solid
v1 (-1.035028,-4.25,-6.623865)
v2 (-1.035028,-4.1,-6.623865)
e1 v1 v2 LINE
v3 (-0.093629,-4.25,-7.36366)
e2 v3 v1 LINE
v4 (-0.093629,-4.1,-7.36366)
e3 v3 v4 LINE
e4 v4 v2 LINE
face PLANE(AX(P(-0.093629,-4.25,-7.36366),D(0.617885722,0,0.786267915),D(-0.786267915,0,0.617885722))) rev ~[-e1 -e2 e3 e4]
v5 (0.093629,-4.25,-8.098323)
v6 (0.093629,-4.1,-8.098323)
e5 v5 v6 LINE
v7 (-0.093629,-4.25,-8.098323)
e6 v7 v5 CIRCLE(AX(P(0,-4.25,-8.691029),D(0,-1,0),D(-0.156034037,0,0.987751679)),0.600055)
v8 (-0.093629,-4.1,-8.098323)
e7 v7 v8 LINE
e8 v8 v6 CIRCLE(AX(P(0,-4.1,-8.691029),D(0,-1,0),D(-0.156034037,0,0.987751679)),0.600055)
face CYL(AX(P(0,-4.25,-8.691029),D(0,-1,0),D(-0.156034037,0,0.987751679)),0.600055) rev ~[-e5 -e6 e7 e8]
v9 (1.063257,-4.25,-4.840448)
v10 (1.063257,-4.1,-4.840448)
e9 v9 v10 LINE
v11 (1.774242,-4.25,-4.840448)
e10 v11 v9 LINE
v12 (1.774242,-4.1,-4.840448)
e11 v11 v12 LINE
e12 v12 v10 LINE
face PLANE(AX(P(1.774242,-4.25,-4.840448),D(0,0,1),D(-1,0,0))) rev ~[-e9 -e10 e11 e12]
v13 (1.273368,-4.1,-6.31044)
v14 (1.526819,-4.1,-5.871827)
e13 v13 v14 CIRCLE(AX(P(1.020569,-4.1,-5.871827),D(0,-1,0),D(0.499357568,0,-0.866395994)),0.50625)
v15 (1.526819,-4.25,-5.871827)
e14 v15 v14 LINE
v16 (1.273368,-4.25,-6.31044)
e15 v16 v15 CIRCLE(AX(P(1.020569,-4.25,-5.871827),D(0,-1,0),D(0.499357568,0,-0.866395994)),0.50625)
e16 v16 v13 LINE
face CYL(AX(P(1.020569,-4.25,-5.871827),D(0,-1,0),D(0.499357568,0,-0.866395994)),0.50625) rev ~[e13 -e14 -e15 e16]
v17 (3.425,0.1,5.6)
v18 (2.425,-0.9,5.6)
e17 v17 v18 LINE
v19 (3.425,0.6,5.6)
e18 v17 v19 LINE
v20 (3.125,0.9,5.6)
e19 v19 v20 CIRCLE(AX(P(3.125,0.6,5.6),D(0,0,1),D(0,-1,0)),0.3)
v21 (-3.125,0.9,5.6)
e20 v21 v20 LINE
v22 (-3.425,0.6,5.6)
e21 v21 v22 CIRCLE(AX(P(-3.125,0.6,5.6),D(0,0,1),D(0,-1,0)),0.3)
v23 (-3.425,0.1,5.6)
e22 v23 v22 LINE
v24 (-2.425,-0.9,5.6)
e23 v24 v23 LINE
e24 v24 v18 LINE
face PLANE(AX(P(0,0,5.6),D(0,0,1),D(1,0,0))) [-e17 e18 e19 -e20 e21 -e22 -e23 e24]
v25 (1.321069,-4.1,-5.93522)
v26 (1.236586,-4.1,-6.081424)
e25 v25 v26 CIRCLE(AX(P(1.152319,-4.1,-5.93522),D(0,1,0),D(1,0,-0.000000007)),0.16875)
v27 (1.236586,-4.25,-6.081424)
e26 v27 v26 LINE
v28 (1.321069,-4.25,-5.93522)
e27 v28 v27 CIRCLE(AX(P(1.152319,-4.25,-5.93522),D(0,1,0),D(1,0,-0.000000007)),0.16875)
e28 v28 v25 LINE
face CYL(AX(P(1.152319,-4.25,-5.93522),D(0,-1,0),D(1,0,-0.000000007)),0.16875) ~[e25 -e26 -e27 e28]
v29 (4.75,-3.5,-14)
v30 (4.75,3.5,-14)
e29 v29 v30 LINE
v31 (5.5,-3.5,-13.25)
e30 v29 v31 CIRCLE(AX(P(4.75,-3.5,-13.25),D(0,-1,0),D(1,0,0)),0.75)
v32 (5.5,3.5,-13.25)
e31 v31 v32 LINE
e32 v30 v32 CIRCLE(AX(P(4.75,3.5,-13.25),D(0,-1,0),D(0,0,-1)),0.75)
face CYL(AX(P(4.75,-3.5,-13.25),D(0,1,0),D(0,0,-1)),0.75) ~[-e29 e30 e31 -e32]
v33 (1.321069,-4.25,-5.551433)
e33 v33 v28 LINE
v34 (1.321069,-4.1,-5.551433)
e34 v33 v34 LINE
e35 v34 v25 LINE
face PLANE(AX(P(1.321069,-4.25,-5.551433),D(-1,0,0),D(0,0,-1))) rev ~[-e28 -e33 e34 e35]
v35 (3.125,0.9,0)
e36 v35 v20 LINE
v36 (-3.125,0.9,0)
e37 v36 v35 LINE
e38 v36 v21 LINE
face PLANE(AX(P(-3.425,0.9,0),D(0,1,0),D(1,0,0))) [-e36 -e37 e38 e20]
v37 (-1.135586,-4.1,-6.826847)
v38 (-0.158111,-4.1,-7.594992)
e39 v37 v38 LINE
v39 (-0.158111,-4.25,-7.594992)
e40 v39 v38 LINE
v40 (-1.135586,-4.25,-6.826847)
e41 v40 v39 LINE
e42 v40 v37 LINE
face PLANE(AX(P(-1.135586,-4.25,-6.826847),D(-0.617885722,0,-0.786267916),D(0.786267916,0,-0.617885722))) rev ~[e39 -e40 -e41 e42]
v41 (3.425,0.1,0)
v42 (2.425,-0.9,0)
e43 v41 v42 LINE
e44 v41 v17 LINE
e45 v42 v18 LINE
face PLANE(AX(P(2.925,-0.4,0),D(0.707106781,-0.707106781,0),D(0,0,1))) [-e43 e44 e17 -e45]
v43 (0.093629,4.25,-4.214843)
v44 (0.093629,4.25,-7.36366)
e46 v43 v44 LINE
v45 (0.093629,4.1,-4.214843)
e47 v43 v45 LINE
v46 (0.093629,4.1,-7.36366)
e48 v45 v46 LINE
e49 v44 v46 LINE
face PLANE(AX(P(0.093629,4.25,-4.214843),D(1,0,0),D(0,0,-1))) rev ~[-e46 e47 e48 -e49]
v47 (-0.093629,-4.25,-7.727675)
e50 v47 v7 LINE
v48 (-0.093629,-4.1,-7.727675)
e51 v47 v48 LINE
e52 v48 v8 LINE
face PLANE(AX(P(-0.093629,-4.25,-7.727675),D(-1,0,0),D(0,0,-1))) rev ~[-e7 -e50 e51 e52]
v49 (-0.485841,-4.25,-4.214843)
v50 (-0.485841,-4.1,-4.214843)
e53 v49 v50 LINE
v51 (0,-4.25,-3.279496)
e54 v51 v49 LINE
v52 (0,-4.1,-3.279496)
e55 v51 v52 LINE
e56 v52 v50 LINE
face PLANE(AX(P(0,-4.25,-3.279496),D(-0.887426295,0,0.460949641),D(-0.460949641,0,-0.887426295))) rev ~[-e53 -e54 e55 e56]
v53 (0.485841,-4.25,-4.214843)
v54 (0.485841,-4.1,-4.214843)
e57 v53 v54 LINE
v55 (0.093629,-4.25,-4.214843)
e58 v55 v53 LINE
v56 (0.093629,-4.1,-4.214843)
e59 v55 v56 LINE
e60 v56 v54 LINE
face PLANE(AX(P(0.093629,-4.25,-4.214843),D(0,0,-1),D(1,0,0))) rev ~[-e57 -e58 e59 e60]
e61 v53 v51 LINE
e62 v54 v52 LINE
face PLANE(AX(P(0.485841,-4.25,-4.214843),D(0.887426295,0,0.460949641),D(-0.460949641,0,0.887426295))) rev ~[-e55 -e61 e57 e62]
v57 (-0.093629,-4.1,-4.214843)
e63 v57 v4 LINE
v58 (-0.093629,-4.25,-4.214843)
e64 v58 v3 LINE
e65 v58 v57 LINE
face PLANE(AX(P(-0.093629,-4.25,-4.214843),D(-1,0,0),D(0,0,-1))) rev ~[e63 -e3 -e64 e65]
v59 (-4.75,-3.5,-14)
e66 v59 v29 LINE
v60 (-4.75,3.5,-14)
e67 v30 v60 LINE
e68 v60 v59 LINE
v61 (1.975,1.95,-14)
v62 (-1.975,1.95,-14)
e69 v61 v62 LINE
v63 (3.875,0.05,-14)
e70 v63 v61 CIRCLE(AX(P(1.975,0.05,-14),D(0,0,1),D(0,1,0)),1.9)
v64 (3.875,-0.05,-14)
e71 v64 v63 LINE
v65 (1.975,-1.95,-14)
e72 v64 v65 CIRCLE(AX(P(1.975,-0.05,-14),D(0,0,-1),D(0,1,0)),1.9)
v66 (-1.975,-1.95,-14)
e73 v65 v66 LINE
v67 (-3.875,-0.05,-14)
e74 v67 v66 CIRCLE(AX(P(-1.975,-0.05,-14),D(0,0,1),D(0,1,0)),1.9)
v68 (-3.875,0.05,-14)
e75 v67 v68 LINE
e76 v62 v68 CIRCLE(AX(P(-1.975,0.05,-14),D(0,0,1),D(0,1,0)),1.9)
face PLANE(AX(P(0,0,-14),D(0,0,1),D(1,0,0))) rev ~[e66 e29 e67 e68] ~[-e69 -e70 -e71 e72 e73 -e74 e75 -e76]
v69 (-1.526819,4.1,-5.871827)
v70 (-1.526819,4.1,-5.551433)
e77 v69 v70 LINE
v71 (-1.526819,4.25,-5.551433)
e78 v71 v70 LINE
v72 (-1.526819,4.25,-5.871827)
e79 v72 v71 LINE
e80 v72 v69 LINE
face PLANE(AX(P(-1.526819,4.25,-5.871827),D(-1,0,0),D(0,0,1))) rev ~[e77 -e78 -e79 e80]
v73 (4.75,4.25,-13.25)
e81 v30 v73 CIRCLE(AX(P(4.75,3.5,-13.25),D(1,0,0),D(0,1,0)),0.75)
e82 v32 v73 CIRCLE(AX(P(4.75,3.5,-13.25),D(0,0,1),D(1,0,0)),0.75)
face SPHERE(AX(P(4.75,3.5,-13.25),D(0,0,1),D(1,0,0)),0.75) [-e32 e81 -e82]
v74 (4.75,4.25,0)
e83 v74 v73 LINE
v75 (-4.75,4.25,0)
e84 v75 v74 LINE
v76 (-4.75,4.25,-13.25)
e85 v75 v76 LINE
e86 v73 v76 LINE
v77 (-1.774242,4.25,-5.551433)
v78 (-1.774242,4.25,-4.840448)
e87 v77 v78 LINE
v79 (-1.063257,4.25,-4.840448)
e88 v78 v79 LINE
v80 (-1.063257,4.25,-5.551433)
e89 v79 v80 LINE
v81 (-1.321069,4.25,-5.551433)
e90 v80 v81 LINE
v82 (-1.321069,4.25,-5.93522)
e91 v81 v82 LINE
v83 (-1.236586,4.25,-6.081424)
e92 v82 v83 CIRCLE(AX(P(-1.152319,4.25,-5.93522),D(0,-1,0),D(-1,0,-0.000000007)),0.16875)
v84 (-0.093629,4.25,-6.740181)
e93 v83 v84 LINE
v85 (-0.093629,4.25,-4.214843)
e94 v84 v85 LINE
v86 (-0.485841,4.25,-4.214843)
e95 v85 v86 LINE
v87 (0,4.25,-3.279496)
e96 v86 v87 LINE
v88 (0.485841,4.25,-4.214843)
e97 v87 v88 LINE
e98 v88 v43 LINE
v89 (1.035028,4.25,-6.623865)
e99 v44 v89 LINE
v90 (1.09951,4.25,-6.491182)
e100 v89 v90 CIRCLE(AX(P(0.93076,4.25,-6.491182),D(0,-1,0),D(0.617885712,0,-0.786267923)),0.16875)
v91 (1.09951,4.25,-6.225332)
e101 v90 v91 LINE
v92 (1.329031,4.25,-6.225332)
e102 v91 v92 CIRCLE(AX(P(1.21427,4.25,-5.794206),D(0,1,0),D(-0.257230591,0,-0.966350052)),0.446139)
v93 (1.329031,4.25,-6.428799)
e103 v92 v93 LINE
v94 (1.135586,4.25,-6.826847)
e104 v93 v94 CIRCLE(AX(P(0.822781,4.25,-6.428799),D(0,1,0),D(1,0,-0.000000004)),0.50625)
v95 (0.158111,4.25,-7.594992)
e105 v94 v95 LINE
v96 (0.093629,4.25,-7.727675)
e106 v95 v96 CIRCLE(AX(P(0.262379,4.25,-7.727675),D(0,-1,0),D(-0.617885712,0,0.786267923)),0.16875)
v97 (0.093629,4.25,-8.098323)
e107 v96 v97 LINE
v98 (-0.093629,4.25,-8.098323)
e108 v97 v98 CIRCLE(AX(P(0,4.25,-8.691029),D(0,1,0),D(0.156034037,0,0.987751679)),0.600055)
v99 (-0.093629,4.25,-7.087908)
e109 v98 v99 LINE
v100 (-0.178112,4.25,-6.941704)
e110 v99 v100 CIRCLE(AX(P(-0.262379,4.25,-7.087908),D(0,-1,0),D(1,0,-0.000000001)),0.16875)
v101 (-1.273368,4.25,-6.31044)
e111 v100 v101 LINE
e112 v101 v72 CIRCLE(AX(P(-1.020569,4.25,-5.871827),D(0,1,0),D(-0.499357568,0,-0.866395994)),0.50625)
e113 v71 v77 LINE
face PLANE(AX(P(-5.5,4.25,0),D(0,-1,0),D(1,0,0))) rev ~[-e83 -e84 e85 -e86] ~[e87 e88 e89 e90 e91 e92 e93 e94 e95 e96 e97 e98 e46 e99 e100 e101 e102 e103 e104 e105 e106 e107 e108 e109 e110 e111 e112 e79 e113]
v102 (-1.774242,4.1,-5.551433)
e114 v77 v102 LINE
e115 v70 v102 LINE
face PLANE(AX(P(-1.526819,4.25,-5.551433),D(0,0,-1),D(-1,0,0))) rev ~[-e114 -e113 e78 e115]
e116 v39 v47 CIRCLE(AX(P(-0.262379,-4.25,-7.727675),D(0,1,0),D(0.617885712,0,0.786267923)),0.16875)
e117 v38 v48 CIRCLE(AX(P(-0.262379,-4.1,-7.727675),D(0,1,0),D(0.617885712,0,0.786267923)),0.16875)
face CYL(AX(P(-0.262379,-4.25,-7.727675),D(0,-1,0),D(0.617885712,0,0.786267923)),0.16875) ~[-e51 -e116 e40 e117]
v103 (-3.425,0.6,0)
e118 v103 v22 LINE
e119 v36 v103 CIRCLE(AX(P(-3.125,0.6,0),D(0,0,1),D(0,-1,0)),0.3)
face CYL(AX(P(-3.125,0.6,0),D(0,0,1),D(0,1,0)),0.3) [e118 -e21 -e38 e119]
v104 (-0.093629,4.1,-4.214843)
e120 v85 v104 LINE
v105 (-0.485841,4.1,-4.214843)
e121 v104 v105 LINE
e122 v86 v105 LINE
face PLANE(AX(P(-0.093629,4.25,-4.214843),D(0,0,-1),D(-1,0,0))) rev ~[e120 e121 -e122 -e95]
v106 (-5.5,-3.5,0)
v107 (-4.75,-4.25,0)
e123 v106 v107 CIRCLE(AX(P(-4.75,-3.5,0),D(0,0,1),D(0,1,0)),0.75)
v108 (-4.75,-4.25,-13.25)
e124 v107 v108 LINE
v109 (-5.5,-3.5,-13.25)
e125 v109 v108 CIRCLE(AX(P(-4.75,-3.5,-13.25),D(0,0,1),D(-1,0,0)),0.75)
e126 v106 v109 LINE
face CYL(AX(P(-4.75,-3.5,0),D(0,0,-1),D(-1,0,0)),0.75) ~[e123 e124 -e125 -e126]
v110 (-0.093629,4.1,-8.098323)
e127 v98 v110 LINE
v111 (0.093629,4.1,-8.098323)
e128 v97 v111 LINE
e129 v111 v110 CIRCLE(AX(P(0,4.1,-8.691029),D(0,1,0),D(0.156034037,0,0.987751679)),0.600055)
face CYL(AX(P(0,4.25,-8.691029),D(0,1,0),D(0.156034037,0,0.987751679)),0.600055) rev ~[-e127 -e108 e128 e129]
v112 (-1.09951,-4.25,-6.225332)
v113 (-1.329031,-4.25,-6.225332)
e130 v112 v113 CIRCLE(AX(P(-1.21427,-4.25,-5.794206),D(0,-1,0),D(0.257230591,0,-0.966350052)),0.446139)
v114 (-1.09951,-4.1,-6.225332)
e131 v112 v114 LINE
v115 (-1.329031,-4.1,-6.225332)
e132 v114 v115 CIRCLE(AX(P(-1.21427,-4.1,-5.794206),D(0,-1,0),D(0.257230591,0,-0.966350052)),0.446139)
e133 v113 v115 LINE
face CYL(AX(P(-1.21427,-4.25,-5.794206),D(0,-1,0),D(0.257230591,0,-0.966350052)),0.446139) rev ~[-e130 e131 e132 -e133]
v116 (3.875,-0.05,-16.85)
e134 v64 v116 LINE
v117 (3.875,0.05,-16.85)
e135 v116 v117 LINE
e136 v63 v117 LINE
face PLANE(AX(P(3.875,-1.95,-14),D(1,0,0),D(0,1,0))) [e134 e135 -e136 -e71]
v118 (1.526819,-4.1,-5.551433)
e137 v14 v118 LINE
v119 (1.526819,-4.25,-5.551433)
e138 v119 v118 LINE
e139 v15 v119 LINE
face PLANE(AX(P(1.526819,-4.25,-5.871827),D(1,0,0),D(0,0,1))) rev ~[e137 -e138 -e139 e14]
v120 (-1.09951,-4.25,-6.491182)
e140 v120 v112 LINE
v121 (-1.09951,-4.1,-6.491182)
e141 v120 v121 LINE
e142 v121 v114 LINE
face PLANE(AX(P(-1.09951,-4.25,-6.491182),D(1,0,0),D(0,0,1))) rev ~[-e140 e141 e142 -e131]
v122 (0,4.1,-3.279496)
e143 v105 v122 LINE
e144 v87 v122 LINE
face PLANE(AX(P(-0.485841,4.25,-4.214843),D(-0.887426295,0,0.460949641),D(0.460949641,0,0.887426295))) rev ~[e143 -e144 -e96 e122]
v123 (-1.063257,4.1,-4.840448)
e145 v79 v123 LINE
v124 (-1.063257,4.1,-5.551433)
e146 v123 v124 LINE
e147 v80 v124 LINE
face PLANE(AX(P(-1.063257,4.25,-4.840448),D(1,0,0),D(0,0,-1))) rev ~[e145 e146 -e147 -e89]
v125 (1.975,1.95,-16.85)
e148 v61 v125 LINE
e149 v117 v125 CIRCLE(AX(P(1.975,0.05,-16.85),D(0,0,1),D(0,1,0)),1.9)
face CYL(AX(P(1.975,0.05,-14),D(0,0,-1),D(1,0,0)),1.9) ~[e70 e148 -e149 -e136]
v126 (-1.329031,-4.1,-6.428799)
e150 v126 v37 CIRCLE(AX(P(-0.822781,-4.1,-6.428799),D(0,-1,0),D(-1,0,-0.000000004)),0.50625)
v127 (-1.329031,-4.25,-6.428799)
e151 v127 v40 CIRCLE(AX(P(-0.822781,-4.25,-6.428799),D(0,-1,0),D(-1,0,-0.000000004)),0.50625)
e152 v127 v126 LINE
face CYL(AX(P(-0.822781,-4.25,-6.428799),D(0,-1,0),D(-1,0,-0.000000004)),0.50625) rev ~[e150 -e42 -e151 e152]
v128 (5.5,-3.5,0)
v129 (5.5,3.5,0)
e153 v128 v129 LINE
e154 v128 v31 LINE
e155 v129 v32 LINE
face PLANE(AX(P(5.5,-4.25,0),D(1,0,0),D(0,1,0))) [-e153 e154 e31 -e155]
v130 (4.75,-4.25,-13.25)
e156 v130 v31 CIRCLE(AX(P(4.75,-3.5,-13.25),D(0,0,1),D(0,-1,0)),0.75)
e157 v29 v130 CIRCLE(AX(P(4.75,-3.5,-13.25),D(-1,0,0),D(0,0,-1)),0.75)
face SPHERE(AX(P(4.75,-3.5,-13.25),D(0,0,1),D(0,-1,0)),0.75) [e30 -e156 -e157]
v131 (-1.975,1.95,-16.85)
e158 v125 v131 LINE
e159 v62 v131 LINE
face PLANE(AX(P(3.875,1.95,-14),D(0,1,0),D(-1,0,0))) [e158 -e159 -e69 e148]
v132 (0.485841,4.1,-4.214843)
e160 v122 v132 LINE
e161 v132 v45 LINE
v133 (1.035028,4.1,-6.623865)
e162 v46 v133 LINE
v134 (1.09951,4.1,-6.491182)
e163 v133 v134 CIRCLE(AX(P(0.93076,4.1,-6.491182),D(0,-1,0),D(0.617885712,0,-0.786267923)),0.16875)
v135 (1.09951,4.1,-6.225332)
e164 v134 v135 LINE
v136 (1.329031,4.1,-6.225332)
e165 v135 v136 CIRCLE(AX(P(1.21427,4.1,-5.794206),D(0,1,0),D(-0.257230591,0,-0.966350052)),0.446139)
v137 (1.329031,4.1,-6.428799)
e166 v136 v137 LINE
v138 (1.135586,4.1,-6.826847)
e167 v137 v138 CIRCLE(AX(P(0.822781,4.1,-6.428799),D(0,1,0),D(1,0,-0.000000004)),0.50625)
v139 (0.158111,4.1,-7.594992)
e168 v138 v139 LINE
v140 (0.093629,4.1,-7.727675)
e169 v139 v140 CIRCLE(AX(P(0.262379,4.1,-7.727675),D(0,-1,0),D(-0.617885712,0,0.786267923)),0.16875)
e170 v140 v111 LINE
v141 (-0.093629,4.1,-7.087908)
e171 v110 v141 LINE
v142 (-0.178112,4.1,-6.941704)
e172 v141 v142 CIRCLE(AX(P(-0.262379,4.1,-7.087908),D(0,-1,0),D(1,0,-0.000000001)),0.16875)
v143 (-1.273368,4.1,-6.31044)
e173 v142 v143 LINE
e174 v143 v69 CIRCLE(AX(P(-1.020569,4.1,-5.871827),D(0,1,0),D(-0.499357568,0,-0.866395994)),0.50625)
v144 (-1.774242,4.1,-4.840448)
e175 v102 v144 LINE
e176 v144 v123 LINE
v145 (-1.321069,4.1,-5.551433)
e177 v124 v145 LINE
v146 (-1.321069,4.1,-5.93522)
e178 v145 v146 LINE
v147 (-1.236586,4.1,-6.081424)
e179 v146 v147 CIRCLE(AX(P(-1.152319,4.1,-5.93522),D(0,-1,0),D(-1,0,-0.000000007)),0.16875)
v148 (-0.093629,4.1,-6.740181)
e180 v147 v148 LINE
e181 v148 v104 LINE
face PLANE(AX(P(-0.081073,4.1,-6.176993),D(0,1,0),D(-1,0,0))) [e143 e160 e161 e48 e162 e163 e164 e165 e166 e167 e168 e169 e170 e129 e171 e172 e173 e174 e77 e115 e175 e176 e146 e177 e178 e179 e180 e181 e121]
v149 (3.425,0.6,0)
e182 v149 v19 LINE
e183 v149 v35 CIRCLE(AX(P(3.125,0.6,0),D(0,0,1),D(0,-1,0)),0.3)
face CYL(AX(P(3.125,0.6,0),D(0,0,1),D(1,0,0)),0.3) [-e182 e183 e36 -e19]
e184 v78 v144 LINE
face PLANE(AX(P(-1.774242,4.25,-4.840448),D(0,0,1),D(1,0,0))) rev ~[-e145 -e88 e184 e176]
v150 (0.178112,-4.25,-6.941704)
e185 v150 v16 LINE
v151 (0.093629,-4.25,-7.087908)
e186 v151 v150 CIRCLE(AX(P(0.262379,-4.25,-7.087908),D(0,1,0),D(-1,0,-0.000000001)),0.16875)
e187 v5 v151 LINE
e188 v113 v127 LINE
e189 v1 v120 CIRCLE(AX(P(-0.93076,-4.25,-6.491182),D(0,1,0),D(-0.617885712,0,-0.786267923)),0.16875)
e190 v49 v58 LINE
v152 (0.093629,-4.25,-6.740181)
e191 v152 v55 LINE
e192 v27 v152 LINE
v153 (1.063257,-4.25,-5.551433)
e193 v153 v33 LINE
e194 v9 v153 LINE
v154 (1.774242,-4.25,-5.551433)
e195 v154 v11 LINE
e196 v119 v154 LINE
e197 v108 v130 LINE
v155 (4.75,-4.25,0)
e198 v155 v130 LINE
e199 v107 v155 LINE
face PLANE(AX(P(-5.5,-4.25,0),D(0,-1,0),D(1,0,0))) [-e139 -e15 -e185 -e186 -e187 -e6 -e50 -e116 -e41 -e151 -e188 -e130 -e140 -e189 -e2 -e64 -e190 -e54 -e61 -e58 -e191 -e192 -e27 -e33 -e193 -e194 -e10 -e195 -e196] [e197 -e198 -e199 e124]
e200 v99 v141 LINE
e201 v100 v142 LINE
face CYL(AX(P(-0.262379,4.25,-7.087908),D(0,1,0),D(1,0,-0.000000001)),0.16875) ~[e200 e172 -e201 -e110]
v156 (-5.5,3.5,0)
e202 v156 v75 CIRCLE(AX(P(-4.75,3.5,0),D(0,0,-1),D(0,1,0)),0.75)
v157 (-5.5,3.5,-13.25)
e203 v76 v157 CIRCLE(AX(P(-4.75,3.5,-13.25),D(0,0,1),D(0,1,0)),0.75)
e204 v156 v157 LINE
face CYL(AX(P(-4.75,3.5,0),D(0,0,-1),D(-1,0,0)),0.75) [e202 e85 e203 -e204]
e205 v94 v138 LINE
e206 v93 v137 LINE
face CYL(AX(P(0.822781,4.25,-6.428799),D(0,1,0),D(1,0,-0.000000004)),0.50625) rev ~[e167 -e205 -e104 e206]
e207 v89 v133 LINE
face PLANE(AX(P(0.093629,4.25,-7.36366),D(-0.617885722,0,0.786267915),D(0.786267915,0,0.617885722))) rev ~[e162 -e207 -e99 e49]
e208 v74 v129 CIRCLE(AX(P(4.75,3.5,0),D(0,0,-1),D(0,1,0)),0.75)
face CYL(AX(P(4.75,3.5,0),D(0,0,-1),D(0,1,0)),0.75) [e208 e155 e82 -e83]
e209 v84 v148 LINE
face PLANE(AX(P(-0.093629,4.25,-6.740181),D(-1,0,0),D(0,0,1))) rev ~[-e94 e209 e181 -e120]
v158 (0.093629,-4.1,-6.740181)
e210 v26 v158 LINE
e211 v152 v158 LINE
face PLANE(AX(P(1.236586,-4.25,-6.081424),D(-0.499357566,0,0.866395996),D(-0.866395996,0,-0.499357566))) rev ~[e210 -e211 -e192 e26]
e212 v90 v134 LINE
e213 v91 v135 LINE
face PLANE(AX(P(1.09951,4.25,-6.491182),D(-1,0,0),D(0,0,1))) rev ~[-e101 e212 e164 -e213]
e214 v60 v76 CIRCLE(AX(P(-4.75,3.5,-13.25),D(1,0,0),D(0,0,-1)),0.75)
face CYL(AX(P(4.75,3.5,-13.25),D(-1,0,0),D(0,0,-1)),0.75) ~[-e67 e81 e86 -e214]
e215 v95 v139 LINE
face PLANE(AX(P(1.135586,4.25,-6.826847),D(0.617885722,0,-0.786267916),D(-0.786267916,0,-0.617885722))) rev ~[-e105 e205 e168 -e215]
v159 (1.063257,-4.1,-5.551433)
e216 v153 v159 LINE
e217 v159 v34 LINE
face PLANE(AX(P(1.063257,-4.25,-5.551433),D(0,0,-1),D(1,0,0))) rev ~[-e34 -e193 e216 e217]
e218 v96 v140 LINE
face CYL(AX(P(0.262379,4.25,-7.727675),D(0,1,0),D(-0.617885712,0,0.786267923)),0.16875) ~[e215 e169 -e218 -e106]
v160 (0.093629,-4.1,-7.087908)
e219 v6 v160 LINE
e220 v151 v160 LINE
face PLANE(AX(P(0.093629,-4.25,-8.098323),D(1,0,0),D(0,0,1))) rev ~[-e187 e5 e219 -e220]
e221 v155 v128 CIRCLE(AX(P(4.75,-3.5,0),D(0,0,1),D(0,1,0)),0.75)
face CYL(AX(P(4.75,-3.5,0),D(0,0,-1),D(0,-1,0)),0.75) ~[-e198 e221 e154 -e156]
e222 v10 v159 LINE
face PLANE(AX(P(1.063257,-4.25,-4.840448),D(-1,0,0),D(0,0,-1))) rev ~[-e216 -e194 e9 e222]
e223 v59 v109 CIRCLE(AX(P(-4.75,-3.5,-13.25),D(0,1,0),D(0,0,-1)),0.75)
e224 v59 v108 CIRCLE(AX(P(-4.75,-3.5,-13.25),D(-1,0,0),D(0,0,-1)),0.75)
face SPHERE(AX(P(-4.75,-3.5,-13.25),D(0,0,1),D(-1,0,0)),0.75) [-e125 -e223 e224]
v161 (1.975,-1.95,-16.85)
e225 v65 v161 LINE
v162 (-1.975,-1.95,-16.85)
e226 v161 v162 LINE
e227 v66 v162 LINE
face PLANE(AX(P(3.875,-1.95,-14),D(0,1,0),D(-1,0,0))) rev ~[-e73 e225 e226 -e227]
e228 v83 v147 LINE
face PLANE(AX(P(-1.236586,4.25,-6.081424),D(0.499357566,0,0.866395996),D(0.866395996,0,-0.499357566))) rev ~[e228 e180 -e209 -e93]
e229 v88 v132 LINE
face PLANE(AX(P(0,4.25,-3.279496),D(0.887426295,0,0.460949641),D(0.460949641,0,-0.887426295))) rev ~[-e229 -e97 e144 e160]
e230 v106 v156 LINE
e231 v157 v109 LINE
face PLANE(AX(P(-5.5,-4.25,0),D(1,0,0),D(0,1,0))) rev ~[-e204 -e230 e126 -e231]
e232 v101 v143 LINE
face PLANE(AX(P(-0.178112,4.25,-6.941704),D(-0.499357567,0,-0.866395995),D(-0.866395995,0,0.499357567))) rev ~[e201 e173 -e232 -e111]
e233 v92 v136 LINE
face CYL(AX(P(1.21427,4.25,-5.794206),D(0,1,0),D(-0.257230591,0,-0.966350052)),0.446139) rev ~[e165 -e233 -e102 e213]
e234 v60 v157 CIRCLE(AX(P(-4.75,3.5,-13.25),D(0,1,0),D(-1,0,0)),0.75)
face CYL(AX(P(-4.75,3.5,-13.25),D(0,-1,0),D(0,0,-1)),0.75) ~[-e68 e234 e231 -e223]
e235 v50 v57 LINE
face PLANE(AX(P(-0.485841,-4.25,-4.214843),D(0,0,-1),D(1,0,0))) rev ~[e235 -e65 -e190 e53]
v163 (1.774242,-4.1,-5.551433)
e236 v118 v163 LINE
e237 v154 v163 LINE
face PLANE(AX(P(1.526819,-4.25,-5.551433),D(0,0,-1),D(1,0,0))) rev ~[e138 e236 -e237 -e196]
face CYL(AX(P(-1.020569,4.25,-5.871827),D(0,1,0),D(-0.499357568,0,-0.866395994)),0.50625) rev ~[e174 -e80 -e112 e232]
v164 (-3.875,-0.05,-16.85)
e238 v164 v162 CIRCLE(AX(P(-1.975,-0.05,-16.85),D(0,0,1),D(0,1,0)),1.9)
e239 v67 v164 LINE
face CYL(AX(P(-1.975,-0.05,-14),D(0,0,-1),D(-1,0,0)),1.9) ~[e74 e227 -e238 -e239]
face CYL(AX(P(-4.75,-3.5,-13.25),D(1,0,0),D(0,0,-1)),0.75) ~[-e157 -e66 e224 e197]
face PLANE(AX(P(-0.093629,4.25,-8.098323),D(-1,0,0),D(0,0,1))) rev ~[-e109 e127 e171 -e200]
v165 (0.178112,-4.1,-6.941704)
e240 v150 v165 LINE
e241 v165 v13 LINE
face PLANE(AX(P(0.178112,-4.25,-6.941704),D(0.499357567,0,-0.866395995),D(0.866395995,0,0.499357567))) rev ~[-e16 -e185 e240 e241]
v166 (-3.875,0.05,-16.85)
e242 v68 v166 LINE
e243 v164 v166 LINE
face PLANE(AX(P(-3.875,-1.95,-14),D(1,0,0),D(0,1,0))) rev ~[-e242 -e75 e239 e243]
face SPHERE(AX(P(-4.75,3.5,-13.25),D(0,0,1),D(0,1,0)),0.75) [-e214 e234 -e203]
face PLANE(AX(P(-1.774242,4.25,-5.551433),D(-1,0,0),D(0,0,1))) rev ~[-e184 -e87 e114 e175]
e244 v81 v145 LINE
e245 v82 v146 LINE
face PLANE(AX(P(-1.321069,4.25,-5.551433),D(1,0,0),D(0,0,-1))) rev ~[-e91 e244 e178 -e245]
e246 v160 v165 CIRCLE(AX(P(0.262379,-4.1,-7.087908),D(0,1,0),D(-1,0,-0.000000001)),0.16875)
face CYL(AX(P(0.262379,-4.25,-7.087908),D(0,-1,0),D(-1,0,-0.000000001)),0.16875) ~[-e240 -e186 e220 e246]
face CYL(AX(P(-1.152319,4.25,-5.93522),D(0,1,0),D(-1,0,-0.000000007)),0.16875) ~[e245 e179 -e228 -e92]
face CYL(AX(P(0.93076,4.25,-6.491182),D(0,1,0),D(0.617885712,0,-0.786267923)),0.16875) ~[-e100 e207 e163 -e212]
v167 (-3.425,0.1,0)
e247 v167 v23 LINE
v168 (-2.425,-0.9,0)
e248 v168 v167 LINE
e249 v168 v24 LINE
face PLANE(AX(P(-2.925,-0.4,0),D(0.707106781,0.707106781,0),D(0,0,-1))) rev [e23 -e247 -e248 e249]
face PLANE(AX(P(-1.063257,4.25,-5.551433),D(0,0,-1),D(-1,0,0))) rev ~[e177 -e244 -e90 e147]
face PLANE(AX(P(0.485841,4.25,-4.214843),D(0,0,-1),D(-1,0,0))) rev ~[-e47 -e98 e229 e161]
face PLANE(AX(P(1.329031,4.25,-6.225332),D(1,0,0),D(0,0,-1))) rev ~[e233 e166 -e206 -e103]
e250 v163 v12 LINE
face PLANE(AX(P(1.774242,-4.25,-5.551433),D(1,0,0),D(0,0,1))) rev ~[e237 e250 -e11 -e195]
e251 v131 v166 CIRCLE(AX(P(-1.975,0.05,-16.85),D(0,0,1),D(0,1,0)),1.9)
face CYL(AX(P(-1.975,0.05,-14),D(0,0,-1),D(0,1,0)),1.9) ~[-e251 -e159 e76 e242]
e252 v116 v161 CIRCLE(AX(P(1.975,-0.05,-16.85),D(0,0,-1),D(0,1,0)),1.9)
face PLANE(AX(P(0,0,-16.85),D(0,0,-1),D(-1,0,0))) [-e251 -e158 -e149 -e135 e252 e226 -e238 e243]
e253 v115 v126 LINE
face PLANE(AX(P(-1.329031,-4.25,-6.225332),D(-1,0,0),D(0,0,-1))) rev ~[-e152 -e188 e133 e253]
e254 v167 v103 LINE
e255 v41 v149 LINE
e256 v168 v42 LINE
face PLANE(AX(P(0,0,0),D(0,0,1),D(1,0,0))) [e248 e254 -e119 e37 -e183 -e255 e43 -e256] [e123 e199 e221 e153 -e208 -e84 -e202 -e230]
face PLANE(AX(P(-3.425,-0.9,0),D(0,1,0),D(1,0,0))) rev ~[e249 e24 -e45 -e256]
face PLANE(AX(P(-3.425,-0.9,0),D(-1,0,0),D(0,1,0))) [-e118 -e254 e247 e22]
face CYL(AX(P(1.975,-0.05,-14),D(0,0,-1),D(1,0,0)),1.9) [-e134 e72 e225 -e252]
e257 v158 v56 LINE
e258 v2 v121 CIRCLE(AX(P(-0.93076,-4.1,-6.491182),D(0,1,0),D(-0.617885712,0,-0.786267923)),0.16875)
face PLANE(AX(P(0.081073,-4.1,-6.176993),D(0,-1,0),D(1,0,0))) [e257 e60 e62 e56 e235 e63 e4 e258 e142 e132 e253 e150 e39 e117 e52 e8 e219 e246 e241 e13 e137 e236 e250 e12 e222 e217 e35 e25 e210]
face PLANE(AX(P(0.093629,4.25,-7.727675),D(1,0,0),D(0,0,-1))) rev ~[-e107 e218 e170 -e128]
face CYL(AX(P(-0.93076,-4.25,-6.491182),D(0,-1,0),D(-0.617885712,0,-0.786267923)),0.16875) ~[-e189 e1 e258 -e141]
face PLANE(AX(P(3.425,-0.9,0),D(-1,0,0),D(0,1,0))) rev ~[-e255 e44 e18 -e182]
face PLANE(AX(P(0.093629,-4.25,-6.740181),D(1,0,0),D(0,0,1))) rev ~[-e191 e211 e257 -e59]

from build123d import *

# Parameters (mm, degrees)
SKETCH1_W           = 11
SKETCH1_H           = 8.5
BOSS_EXTRUDE1_DEPTH = 14
SKETCH2_W           = 7.75
SKETCH2_H           = 3.9
BOSS_EXTRUDE2_DEPTH = 2.85
SKETCH4_W           = 6.85
SKETCH4_H           = 1.8
BOSS_EXTRUDE4_DEPTH = 5.6
FILLET6_R           = 0.3
CHAMFER1_SIZE       = 1
CUT_EXTRUDE1_DEPTH  = 0.15
CIRPATTERN1_COUNT   = 2
FILLET1_R           = 1.9
FILLET3_R           = 0.75
FILLET4_R           = 0.75


with BuildPart() as part:
    # Sketch1 → Boss-Extrude1 (new body)
    with BuildSketch(Plane.XY):
        Rectangle(SKETCH1_W, SKETCH1_H)
    extrude(amount=-BOSS_EXTRUDE1_DEPTH)

    # Sketch2 → Boss-Extrude2 (add)
    with BuildSketch(Plane(origin=(0, 0, -14), x_dir=(-1, 0, 0), z_dir=(0, 0, -1))):
        Rectangle(SKETCH2_W, SKETCH2_H)
    extrude(amount=BOSS_EXTRUDE2_DEPTH)

    # Sketch4 → Boss-Extrude4 (add)
    with BuildSketch(Plane.XY):
        Rectangle(SKETCH4_W, SKETCH4_H)
    extrude(amount=BOSS_EXTRUDE4_DEPTH)

    # Fillet6
    fillet6_edges = [part.edges().sort_by_distance(p)[0] for p in [
        (3.425, 0.9, 2.8),
        (-3.425, 0.9, 2.8),
    ]]
    fillet(fillet6_edges, radius=FILLET6_R)

    # Chamfer1
    chamfer1_edges = [part.edges().sort_by_distance(p)[0] for p in [
        (-3.425, -0.9, 2.8),
        (3.425, -0.9, 2.8),
    ]]
    chamfer(chamfer1_edges, length=CHAMFER1_SIZE)

    # Sketch5 → Cut-Extrude1 (cut)
    with BuildSketch(Plane.XZ.offset(4.25)):
        with BuildLine():
            Line((0, -3.279495805), (-0.485840634, -4.214842566))
            Line((-0.485840634, -4.214842566), (-0.093629021, -4.214842566))
            Line((-0.093629021, -4.214842566), (-0.093629021, -7.363659965))
            Line((-0.093629021, -7.363659965), (-1.035027967, -6.623865099))
            ThreePointArc((-1.035027967, -6.623865099), (-1.082535613, -6.564943154), (-1.099509752, -6.491182388))
            Line((-1.099509752, -6.491182388), (-1.099509752, -6.225332236))
            ThreePointArc((-1.099509752, -6.225332236), (-1.214270304, -5.348067145), (-1.329030856, -6.225332236))
            Line((-1.329030856, -6.225332236), (-1.329030856, -6.428798928))
            ThreePointArc((-1.329030856, -6.428798928), (-1.278108438, -6.650081225), (-1.135585502, -6.82684706))
            Line((-1.135585502, -6.82684706), (-0.158110806, -7.59499192))
            ThreePointArc((-0.158110806, -7.59499192), (-0.11060316, -7.653913865), (-0.093629021, -7.727674631))
            Line((-0.093629021, -7.727674631), (-0.093629021, -8.098323238))
            ThreePointArc((-0.093629021, -8.098323238), (0, -9.291083784), (0.093629021, -8.098323238))
            Line((0.093629021, -8.098323238), (0.093629021, -7.087908213))
            ThreePointArc((0.093629021, -7.087908213), (0.116268533, -7.003479025), (0.178112432, -6.941703889))
            Line((0.178112432, -6.941703889), (1.273368459, -6.310440139))
            ThreePointArc((1.273368459, -6.310440139), (1.458900155, -6.12511473), (1.526818691, -5.871827167))
            Line((1.526818691, -5.871827167), (1.526818691, -5.55143287))
            Line((1.526818691, -5.55143287), (1.774241614, -5.55143287))
            Line((1.774241614, -5.55143287), (1.774241614, -4.840448102))
            Line((1.774241614, -4.840448102), (1.063256846, -4.840448102))
            Line((1.063256846, -4.840448102), (1.063256846, -5.55143287))
            Line((1.063256846, -5.55143287), (1.321069322, -5.55143287))
            Line((1.321069322, -5.55143287), (1.321069322, -5.935219876))
            ThreePointArc((1.321069322, -5.935219876), (1.29842981, -6.019649064), (1.236585912, -6.081424201))
            Line((1.236585912, -6.081424201), (0.093629021, -6.740180906))
            Line((0.093629021, -6.740180906), (0.093629021, -4.214842566))
            Line((0.093629021, -4.214842566), (0.485840634, -4.214842566))
            Line((0.485840634, -4.214842566), (0, -3.279495805))
        make_face()
    cut_extrude1 = extrude(amount=-CUT_EXTRUDE1_DEPTH, mode=Mode.SUBTRACT)

    # CirPattern1: Cut-Extrude1 ×2 about axis
    cirpattern1_axis = Axis((0, 0, -122.9725), (0, 0, 1))
    for i in range(1, CIRPATTERN1_COUNT):
        add(cut_extrude1.rotate(cirpattern1_axis, i * 360 / CIRPATTERN1_COUNT), mode=Mode.SUBTRACT)

    # Fillet1
    fillet1_edges = [part.edges().sort_by_distance(p)[0] for p in [
        (-3.875, -1.95, -15.425),
        (-3.875, 1.95, -15.425),
        (3.875, -1.95, -15.425),
        (3.875, 1.95, -15.425),
    ]]
    fillet(fillet1_edges, radius=FILLET1_R)

    # Fillet3
    fillet3_edges = [part.edges().sort_by_distance(p)[0] for p in [
        (5.5, -4.25, -7),
        (-5.5, -4.25, -7),
        (-5.5, 4.25, -7),
        (5.5, 4.25, -7),
    ]]
    fillet(fillet3_edges, radius=FILLET3_R)

    # Fillet4
    fillet4_edges = [part.edges().sort_by_distance(p)[0] for p in [
        (5.280330086, 4.030330086, -14),
        (5.5, 0, -14),
        (5.280330086, -4.030330086, -14),
        (0, -4.25, -14),
        (-5.280330086, -4.030330086, -14),
        (-5.5, 0, -14),
        (-5.280330086, 4.030330086, -14),
        (0, 4.25, -14),
    ]]
    fillet(fillet4_edges, radius=FILLET4_R)


solid = part.part
